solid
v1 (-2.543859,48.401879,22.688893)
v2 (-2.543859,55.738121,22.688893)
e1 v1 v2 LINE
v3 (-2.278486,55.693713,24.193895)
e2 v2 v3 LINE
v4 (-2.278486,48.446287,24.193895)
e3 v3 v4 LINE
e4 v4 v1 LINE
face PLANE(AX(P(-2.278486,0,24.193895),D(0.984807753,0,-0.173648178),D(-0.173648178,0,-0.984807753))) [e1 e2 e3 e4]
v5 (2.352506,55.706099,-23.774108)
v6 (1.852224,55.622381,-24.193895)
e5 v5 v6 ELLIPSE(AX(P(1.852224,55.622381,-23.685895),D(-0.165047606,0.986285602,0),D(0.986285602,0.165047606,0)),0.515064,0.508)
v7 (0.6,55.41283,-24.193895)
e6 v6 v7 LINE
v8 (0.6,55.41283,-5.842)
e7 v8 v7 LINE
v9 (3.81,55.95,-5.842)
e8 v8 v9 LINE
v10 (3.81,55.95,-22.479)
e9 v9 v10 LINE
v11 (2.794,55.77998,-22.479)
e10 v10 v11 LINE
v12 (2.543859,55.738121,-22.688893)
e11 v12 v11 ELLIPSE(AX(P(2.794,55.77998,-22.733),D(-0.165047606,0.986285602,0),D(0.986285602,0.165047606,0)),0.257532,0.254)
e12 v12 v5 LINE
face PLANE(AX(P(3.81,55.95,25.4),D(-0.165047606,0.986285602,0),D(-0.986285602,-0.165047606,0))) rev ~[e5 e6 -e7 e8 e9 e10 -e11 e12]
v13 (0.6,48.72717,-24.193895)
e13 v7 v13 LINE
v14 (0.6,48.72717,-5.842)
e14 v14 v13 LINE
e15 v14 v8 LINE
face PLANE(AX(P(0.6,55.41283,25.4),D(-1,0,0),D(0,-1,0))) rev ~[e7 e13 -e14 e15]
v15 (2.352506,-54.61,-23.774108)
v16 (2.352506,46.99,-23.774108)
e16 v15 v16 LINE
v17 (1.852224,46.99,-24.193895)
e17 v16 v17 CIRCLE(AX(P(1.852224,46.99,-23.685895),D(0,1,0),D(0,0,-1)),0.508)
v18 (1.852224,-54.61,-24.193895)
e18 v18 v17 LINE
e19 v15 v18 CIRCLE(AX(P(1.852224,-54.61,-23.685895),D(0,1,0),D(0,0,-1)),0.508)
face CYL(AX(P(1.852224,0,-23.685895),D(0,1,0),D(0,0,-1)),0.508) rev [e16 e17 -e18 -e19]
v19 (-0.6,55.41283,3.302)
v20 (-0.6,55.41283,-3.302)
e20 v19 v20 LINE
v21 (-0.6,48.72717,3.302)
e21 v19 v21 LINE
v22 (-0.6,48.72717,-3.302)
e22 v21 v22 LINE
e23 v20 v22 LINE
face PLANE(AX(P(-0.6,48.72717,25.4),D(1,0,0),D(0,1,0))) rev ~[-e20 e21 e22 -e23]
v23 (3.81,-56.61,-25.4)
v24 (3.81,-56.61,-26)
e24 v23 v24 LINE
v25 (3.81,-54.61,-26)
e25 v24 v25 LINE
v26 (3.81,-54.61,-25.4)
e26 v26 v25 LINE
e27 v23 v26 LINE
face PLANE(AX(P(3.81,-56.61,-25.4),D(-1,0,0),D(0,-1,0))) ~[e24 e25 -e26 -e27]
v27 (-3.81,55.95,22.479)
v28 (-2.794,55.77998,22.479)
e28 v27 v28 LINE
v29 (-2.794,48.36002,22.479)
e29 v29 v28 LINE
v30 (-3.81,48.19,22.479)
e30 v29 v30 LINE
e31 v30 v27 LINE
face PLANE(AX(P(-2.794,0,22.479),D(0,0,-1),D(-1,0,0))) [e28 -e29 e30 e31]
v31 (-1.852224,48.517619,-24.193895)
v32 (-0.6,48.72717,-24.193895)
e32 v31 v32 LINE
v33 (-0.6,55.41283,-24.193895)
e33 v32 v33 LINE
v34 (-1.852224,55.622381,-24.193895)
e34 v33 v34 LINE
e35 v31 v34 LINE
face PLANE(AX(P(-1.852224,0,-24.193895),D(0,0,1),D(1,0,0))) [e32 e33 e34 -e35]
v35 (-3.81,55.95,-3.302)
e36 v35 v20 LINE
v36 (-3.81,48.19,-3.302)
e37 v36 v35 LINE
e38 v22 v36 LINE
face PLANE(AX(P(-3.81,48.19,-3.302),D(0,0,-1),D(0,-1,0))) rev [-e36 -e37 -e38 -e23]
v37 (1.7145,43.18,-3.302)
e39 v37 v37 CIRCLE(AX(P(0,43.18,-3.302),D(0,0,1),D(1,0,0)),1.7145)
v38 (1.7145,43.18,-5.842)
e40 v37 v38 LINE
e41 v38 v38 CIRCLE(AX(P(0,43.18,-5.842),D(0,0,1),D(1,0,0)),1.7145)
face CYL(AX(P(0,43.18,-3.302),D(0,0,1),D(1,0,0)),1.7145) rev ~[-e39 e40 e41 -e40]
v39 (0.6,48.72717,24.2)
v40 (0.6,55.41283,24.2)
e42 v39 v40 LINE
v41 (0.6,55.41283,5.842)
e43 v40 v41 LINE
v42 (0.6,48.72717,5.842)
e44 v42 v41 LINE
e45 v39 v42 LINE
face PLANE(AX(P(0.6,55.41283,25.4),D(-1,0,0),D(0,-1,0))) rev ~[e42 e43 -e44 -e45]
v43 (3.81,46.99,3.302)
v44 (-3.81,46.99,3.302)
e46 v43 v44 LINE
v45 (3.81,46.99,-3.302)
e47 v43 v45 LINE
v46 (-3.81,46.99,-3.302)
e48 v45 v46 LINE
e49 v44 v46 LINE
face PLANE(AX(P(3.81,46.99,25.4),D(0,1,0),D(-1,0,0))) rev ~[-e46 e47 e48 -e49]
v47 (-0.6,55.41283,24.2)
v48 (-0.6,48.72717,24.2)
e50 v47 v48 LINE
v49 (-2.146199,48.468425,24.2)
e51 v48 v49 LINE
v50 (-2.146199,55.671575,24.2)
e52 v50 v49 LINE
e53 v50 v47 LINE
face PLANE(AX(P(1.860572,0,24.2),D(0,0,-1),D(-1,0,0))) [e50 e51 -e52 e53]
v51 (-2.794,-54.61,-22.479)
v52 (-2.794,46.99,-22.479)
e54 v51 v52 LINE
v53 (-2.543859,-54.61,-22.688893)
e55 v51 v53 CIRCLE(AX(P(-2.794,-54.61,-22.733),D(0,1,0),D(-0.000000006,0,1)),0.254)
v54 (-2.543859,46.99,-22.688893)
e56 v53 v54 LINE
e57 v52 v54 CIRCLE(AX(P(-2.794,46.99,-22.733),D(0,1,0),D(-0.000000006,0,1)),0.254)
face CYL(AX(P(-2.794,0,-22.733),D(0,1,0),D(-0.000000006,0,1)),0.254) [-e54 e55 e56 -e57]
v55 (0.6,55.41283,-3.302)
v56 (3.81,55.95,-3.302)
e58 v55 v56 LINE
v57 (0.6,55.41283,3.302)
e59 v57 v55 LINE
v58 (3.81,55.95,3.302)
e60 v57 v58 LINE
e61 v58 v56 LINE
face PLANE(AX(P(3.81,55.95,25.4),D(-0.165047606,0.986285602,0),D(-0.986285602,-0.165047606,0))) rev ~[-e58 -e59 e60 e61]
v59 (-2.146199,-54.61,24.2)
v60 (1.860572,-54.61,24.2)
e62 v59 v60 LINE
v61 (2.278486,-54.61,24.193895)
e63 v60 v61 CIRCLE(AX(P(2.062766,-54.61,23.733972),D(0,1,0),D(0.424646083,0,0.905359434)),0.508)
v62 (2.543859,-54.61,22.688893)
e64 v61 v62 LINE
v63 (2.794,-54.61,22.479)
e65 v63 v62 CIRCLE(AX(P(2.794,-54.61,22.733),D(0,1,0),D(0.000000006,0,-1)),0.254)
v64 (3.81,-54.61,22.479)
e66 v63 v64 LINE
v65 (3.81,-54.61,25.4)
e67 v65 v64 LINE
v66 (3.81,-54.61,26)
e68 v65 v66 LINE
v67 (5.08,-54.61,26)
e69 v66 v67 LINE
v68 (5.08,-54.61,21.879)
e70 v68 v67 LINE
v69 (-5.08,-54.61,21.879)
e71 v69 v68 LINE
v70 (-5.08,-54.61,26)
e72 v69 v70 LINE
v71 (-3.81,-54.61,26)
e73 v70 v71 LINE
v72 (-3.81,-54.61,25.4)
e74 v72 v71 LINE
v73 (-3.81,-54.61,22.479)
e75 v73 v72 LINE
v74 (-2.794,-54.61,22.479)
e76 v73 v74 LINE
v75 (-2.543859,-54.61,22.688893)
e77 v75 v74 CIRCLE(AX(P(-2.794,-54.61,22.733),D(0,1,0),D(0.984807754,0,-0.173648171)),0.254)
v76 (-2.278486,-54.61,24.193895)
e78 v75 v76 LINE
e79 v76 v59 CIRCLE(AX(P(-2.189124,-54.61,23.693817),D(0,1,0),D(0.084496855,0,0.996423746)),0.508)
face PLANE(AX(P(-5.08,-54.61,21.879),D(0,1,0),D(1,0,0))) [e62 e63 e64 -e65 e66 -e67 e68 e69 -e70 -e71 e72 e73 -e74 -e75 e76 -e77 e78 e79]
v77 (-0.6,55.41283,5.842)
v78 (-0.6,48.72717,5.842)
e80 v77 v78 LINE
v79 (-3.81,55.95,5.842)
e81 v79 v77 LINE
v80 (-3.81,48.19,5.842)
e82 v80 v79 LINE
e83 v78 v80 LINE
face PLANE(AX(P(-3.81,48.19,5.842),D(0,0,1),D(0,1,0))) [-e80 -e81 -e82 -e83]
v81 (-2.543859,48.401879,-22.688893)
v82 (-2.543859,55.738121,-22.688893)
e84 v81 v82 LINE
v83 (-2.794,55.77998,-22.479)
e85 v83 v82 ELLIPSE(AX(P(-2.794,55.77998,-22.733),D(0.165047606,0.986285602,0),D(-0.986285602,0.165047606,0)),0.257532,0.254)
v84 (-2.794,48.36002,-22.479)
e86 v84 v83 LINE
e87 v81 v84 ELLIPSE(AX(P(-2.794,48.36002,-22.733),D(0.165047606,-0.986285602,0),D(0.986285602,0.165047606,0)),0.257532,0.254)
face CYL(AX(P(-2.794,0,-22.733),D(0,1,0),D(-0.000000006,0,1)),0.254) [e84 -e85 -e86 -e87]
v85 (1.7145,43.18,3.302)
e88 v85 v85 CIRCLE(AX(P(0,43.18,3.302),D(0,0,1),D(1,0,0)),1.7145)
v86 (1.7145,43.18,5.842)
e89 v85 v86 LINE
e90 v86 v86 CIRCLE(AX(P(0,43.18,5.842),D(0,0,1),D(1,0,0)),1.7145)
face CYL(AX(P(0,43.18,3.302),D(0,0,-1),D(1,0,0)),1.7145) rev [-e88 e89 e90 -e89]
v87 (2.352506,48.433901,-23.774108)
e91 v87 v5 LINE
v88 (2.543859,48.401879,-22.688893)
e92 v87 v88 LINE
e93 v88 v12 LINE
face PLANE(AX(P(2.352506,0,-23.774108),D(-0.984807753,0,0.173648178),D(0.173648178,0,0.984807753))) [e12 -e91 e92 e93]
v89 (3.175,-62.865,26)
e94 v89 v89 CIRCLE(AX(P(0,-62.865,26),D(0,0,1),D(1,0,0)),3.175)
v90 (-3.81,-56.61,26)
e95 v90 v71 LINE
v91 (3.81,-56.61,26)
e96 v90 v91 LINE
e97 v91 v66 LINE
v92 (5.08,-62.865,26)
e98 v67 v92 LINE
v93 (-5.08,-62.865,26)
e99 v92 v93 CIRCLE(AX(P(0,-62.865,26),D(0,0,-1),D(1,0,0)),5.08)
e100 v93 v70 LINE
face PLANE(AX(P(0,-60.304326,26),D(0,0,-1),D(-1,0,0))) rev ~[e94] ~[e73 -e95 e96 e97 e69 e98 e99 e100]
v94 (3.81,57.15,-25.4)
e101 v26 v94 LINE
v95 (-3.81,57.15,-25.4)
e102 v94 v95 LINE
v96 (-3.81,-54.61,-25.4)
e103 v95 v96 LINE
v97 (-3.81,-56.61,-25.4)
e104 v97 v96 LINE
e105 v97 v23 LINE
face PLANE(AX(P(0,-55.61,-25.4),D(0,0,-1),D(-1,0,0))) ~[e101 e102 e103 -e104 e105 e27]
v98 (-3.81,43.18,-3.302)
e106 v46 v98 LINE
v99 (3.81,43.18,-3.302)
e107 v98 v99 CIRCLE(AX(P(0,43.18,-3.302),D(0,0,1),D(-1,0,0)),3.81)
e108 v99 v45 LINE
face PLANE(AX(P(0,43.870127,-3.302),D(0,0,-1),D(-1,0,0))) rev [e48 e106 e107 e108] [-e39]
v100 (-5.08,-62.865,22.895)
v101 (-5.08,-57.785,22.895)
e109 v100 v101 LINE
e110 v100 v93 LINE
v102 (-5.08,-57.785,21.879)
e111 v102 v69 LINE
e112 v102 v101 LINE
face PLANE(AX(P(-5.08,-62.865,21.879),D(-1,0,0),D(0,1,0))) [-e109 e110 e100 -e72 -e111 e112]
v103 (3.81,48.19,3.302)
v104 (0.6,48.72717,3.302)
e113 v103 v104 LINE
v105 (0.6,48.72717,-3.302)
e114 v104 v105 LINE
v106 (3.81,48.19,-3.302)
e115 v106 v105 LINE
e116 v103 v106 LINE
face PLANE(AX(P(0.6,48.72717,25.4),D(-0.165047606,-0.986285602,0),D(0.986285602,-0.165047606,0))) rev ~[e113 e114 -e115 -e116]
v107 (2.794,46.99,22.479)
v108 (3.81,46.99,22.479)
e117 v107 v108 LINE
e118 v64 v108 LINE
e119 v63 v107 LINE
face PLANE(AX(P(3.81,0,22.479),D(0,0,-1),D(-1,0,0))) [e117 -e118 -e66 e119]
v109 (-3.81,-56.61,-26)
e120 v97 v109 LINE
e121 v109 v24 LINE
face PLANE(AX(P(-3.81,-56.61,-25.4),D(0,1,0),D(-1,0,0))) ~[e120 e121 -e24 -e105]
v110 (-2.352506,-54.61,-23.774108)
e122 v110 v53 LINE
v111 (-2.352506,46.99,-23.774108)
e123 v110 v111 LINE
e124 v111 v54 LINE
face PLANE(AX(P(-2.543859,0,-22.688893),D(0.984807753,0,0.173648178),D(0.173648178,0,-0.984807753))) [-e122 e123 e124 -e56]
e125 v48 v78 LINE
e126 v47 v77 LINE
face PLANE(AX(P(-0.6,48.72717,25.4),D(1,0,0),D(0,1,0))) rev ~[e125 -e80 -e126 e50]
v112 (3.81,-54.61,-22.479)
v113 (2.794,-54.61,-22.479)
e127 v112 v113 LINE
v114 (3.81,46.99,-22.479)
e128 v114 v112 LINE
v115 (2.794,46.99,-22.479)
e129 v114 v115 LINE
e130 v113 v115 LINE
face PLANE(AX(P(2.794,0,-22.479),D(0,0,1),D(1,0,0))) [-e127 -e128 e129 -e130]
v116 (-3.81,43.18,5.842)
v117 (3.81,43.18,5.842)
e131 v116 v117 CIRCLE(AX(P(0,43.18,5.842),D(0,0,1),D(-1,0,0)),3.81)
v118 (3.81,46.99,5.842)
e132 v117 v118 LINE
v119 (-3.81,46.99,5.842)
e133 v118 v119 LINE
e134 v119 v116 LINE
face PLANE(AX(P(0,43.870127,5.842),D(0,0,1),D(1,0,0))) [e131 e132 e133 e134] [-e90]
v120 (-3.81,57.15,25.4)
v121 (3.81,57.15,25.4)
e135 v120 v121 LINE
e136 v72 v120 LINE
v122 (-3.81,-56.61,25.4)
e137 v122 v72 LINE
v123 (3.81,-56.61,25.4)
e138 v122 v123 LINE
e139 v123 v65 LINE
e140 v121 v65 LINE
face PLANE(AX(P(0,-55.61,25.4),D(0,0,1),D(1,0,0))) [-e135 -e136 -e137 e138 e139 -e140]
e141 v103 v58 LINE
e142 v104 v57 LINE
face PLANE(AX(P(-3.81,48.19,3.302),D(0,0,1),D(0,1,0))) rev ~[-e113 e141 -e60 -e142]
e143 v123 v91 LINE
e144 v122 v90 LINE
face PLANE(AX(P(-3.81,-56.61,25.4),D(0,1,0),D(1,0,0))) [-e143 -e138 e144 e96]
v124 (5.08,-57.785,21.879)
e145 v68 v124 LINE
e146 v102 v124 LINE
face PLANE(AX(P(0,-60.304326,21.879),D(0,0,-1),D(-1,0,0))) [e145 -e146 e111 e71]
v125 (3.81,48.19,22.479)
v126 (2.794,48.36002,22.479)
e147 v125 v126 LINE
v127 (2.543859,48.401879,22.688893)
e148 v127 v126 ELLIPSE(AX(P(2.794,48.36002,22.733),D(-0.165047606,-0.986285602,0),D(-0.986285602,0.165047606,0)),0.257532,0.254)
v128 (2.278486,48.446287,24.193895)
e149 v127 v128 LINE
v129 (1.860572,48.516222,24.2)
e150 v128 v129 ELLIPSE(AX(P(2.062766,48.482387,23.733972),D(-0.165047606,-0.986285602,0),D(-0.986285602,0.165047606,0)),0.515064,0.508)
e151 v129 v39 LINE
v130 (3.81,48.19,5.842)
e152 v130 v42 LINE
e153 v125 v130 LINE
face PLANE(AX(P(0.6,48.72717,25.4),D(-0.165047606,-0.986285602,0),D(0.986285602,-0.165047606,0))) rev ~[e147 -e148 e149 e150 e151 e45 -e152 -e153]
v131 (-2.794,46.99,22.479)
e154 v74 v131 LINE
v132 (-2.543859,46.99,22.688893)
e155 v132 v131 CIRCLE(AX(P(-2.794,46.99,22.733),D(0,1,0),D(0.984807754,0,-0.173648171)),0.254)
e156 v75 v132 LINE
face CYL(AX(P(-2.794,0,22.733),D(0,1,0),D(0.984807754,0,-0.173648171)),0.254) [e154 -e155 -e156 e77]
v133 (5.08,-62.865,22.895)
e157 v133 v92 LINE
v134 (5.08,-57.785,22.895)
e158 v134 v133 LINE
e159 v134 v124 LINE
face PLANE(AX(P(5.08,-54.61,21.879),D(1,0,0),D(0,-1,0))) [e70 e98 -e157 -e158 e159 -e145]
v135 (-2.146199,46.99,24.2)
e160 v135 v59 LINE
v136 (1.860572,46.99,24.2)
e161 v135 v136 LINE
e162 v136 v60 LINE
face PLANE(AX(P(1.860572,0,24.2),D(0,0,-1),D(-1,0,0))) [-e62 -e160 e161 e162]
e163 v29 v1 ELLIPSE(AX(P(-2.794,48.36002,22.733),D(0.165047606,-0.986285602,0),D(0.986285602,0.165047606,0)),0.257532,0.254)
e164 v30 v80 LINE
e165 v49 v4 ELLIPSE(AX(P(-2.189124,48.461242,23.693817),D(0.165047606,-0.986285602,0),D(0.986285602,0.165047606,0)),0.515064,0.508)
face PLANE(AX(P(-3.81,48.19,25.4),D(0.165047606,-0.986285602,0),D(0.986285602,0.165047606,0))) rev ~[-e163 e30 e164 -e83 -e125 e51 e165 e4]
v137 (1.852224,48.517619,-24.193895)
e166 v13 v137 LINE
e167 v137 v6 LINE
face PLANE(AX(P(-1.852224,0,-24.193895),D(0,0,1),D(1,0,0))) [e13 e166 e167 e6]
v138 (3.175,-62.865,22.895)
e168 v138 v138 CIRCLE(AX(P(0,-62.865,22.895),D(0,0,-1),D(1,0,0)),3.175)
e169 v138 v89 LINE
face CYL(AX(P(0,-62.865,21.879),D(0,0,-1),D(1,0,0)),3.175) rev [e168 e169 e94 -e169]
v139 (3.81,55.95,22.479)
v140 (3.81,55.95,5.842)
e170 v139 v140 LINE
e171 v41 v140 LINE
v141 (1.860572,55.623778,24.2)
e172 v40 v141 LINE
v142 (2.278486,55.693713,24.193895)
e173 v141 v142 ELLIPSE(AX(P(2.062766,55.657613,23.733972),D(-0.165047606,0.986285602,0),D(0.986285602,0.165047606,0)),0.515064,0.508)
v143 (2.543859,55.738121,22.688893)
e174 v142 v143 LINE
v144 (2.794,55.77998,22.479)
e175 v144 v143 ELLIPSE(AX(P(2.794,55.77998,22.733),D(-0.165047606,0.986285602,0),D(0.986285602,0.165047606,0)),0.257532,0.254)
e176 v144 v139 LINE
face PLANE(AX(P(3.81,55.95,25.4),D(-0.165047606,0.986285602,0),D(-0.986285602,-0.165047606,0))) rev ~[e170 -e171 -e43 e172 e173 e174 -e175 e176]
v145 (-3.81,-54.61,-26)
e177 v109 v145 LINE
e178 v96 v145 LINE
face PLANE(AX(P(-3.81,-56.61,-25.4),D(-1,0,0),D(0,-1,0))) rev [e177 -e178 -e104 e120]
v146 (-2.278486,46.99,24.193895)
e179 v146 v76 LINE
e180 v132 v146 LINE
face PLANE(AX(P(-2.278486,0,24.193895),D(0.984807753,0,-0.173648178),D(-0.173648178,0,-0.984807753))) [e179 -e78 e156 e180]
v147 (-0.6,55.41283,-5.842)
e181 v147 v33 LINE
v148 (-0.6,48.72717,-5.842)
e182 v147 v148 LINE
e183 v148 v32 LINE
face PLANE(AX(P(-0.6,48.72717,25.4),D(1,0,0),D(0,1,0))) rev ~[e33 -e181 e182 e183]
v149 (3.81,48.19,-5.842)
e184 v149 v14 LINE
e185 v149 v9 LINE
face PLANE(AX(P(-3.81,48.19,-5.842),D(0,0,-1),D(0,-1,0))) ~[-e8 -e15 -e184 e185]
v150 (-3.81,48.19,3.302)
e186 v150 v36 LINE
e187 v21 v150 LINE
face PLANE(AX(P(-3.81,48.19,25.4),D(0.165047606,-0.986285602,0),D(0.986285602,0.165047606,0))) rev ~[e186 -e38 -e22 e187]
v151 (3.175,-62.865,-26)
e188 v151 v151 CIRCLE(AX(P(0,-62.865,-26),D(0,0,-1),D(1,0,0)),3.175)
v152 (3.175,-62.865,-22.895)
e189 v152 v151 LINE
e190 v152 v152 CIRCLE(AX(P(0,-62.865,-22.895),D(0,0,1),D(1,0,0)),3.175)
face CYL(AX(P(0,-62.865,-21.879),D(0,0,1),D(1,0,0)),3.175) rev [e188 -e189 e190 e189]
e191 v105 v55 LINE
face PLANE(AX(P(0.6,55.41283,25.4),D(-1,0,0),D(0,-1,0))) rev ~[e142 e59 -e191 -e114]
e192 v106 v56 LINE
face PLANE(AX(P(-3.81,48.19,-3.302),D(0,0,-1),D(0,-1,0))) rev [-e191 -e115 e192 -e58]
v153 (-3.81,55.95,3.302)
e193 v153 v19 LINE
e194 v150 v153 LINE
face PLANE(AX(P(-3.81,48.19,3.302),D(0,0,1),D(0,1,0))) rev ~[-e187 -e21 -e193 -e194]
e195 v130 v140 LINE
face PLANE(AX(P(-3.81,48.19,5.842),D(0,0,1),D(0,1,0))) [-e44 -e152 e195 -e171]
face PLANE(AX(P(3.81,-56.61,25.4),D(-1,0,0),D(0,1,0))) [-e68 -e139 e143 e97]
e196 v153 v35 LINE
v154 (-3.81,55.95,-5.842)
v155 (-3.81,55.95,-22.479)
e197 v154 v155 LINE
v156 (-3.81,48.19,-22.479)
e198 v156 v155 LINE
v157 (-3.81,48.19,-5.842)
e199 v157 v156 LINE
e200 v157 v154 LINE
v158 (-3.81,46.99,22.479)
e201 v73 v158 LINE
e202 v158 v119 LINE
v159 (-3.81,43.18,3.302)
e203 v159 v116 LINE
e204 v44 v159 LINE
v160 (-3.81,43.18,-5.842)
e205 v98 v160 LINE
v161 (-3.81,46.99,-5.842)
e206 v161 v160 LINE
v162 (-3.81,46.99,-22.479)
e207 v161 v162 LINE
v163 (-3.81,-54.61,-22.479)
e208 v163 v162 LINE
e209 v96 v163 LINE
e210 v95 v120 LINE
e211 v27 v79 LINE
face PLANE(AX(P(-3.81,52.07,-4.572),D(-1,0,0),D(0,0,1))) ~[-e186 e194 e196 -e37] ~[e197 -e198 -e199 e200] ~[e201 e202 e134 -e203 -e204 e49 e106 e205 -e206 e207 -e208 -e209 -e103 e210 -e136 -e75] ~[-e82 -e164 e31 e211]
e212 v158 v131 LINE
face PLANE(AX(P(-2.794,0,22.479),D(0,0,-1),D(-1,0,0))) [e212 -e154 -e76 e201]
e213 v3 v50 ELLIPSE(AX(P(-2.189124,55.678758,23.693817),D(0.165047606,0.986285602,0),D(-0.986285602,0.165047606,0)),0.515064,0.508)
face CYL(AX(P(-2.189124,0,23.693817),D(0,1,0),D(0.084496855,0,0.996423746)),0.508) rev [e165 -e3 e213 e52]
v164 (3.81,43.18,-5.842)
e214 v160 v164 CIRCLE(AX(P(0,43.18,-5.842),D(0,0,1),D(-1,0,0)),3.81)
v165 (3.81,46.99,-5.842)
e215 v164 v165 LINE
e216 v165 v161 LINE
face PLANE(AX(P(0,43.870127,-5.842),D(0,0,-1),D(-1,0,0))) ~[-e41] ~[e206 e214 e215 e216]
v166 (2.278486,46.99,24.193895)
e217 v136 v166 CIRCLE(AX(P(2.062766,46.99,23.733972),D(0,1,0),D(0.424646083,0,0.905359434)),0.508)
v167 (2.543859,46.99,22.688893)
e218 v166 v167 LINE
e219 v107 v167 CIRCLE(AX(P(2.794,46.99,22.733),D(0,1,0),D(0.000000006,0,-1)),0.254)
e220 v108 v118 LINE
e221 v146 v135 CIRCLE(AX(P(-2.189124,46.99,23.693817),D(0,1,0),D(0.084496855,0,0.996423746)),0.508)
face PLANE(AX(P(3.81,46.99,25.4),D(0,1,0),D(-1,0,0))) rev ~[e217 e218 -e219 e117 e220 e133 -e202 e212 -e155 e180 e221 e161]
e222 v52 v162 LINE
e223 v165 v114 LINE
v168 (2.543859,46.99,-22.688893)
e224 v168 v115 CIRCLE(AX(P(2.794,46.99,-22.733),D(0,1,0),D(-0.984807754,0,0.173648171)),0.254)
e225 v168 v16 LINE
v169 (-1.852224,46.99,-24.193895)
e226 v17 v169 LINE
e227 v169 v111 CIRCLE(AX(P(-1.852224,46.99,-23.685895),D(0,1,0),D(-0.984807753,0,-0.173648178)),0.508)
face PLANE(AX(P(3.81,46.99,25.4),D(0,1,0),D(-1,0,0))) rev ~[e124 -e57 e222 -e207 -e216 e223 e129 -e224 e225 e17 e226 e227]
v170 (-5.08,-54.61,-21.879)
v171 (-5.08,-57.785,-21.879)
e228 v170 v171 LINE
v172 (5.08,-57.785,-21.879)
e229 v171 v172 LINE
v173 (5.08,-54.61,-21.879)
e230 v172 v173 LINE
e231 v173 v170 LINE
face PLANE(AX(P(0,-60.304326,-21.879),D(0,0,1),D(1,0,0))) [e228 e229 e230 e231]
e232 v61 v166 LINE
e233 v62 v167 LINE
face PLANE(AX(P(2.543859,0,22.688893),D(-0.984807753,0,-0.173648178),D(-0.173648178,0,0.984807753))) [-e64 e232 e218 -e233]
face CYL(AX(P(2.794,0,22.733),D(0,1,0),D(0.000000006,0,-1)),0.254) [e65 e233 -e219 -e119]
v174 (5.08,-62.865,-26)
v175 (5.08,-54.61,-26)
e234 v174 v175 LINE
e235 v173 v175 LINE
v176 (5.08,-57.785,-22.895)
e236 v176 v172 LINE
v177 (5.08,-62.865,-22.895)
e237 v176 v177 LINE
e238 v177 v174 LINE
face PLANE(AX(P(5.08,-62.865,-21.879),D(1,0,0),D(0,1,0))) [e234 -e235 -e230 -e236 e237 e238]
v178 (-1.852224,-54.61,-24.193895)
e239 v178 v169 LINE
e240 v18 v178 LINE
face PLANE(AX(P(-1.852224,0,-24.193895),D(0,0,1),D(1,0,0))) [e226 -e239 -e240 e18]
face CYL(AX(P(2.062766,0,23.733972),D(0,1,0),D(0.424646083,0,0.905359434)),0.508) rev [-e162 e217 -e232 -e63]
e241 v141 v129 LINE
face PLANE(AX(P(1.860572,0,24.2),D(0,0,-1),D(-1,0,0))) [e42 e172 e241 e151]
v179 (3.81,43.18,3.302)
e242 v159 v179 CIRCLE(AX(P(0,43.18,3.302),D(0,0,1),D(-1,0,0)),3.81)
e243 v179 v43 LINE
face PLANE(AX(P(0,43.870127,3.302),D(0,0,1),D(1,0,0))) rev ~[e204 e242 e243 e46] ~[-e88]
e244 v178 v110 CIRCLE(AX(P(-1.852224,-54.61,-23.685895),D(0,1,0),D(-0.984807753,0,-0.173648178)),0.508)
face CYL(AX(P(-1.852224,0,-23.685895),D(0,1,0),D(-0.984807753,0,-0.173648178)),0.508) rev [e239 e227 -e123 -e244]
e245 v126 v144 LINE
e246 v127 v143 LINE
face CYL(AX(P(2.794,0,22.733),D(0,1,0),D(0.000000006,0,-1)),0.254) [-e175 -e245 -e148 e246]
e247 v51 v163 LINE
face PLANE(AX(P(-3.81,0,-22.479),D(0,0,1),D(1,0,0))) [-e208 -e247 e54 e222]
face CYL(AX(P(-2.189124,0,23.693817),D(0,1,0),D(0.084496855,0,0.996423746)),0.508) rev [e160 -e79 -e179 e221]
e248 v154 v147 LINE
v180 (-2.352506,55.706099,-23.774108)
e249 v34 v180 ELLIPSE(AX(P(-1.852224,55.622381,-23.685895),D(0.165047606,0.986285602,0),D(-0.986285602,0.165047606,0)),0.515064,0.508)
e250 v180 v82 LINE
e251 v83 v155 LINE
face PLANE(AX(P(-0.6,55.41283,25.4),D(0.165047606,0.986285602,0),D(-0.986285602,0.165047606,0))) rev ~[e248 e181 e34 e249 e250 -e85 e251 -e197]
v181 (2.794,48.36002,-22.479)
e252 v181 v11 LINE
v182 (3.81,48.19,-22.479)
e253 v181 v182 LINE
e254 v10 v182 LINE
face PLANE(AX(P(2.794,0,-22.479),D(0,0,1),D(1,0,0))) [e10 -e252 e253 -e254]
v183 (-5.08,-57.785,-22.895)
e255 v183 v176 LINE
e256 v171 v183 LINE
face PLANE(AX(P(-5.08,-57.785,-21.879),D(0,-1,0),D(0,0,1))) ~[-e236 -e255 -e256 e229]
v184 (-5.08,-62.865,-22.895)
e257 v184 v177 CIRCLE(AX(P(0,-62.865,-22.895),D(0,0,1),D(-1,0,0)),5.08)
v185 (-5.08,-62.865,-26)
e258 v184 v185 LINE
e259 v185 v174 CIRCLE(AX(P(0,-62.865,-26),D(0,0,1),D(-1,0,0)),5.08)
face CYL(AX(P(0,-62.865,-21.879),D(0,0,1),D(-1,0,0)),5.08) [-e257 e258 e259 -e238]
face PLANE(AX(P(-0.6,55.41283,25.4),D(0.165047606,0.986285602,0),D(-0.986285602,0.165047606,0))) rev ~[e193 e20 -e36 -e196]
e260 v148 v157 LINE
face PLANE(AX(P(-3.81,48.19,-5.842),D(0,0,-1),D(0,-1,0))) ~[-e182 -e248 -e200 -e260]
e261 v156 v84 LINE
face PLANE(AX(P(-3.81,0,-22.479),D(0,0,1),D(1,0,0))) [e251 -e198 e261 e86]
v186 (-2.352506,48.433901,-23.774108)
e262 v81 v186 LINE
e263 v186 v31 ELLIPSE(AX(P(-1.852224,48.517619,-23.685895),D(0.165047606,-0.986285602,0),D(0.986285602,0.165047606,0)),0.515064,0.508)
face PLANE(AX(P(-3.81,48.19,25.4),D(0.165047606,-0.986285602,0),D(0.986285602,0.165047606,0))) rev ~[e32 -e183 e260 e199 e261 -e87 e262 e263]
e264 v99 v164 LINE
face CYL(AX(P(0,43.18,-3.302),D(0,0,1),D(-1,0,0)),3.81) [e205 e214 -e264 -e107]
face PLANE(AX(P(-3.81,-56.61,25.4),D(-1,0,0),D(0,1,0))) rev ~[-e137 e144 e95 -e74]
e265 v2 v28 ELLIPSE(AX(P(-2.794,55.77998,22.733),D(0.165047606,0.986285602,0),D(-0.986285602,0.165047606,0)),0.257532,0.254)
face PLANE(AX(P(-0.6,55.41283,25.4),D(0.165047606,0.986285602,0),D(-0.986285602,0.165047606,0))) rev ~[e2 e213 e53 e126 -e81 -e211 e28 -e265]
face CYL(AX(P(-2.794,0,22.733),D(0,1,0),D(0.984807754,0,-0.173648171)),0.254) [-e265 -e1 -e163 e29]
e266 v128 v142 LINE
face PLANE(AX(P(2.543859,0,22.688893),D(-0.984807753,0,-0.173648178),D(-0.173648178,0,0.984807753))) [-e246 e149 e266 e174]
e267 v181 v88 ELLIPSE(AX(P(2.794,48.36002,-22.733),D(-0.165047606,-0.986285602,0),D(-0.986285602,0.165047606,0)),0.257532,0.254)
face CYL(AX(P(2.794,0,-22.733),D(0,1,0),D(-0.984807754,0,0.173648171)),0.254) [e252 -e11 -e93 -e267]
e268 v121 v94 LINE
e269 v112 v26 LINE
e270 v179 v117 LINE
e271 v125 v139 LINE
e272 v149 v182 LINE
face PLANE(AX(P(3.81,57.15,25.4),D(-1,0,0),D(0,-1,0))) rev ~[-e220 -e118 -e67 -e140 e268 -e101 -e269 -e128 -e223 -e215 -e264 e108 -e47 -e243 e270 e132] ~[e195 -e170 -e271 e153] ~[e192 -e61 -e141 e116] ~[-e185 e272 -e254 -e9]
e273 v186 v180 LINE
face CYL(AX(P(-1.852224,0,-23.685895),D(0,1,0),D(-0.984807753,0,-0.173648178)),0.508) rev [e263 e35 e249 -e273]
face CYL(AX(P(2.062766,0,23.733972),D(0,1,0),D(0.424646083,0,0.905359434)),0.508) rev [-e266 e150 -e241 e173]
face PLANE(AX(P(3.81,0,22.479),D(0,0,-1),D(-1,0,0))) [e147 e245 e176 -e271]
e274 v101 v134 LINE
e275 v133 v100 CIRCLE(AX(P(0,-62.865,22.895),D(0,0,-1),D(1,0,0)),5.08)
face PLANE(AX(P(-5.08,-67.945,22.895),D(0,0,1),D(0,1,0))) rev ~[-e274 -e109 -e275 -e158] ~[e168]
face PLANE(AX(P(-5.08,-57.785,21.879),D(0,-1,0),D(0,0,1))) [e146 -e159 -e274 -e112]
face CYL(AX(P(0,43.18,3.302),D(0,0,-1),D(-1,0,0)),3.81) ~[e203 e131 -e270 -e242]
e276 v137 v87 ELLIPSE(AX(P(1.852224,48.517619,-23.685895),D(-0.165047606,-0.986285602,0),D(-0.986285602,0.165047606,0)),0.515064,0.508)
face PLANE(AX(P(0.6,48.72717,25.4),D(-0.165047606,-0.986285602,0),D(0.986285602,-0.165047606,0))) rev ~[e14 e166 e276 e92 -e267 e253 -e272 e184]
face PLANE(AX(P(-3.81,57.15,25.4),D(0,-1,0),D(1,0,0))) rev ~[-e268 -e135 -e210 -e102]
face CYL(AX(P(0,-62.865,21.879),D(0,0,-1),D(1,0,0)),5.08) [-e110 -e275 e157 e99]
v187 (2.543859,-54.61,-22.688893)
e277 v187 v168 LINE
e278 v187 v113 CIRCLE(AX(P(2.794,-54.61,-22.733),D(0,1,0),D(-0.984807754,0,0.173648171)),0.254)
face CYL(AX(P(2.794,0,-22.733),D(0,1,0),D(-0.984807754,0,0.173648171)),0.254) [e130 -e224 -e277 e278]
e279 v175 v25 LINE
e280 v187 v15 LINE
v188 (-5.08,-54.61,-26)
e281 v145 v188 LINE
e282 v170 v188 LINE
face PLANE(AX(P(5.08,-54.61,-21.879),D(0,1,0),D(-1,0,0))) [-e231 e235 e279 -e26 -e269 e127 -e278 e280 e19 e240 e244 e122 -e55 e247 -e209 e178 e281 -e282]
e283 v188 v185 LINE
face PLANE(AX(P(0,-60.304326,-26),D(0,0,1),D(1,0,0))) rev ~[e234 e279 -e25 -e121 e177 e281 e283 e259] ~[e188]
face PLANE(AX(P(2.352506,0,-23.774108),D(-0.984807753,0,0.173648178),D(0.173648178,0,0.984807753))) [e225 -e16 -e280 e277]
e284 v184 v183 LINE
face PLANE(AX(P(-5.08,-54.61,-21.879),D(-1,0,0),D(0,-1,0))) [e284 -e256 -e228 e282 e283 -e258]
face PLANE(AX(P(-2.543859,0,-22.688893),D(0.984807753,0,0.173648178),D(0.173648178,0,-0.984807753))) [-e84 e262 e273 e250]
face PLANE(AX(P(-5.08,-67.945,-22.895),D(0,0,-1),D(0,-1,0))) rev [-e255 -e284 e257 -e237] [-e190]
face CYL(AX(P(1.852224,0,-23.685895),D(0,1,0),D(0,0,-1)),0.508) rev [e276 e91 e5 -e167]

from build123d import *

# Parameters (mm, degrees)
BOSS_EXTRUDE1_DEPTH      = 57.15
BOSS_EXTRUDE1_2_DEPTH    = 57.15
BOSS_EXTRUDE2_DEPTH      = 50.8
BOSS_EXTRUDE3_DEPTH      = 0.6
BOSS_EXTRUDE3_DEPTH_BACK = 3.521
SKETCH3_R                = 3.175
SKETCH4_W                = 1.016
SKETCH4_H                = 10.16
CUT_EXTRUDE1_DEPTH       = 74.455759645
SKETCH5_W                = 7.62
SKETCH5_H                = 2
CUT_EXTRUDE2_DEPTH       = 85.988054602
BOSS_EXTRUDE6_DEPTH      = 0.6
BOSS_EXTRUDE6_DEPTH_BACK = 3.521
SKETCH6_R                = 3.175
BOSS_EXTRUDE7_START      = 3.302
SKETCH7_R                = 1.7145
BOSS_EXTRUDE7_DEPTH      = 2.54
SKETCH8_W                = 2.54
SKETCH8_H                = 7.76
BOSS_EXTRUDE8_DEPTH      = 7.62


with BuildPart() as part:
    # Sketch1 → Boss-Extrude1 (new, symmetric)
    with BuildSketch(Plane(origin=(0, 0, 0), x_dir=(1, 0, 0), z_dir=(0, 1, 0))):
        with BuildLine():
            Line((-3.81, 25.4), (-3.81, 22.479))
            Line((-3.81, 22.479), (-2.794, 22.479))
            ThreePointArc((-2.794, 22.479), (-2.630731947, 22.538424711), (-2.543858831, 22.688893363))
            Line((-2.543858831, 22.688893363), (-2.352506152, 23.774108332))
            ThreePointArc((-2.352506152, 23.774108332), (-2.178759919, 24.075045635), (-1.852223813, 24.193895058))
            Line((-1.852223813, 24.193895058), (1.852223813, 24.193895058))
            ThreePointArc((1.852223813, 24.193895058), (2.178759919, 24.075045635), (2.352506152, 23.774108332))
            Line((2.352506152, 23.774108332), (2.543858831, 22.688893363))
            ThreePointArc((2.543858831, 22.688893363), (2.630731947, 22.538424711), (2.794, 22.479))
            Line((2.794, 22.479), (3.81, 22.479))
            Line((3.81, 22.479), (3.81, 25.4))
            Line((3.81, 25.4), (-3.81, 25.4))
        make_face()
    extrude(amount=BOSS_EXTRUDE1_DEPTH, both=True)



with BuildPart() as body_2:
    # Sketch1 → Boss-Extrude1 2 (new, symmetric)
    with BuildSketch(Plane(origin=(0, 0, 0), x_dir=(1, 0, 0), z_dir=(0, 1, 0))):
        with BuildLine():
            Line((-2.278486426, -24.193895058), (-2.543858831, -22.688893363))
            ThreePointArc((-2.543858831, -22.688893363), (-2.630731947, -22.538424711), (-2.794, -22.479))
            Line((-2.794, -22.479), (-3.81, -22.479))
            Line((-3.81, -22.479), (-3.81, -25.4))
            Line((-3.81, -25.4), (3.81, -25.4))
            Line((3.81, -25.4), (3.81, -22.479))
            Line((3.81, -22.479), (2.794, -22.479))
            ThreePointArc((2.794, -22.479), (2.630731947, -22.538424711), (2.543858831, -22.688893363))
            Line((2.543858831, -22.688893363), (2.278486426, -24.193895058))
            ThreePointArc((2.278486426, -24.193895058), (2.070186355, -24.241918271), (1.860572408, -24.2))
            Line((1.860572408, -24.2), (-2.146199428, -24.2))
            ThreePointArc((-2.146199428, -24.2), (-2.212542712, -24.201276643), (-2.278486426, -24.193895058))
        make_face()
    extrude(amount=BOSS_EXTRUDE1_2_DEPTH, both=True)


with BuildPart() as part_1:
    add(part.part)

    add(body_2.part)  # Boss-Extrude2 merges body 2
    # Sketch2 → Boss-Extrude2 (add)
    with BuildSketch(Plane.XY.offset(25.4)):
        Polygon((-3.81, 57.15), (3.81, 57.15), (3.81, 55.95), (0.6, 55.412830225), (0.6, 48.727169775), (3.81, 48.19), (3.81, 46.99), (-3.81, 46.99), (-3.81, 48.19), (-0.6, 48.727169775), (-0.6, 55.412830225), (-3.81, 55.95), align=None)
    extrude(amount=-BOSS_EXTRUDE2_DEPTH)

    # Sketch3 → Boss-Extrude3 (add, two sides: drawn at the far end of the back side and taken through both)
    with BuildSketch(Plane.XY.offset(25.4).offset(-BOSS_EXTRUDE3_DEPTH_BACK)):
        with BuildLine():
            Line((-5.08, -54.61), (5.08, -54.61))
            Line((5.08, -54.61), (5.08, -62.865))
            ThreePointArc((5.08, -62.865), (0, -67.945), (-5.08, -62.865))
            Line((-5.08, -62.865), (-5.08, -54.61))
        make_face()
        with Locations((0, -62.865)):
            Circle(SKETCH3_R, mode=Mode.SUBTRACT)
    extrude(amount=BOSS_EXTRUDE3_DEPTH + BOSS_EXTRUDE3_DEPTH_BACK)

    # Sketch4 → Cut-Extrude1 (cut, through all)
    with BuildSketch(Plane.ZY.offset(5.08)):
        with Locations((22.387, -62.865)):
            Rectangle(SKETCH4_W, SKETCH4_H)
    cut_extrude1 = extrude(amount=-CUT_EXTRUDE1_DEPTH, mode=Mode.SUBTRACT)

    # Sketch5 → Cut-Extrude2 (cut, through all)
    with BuildSketch(Plane.XY.offset(25.4)):
        with Locations((0, -55.61)):
            Rectangle(SKETCH5_W, SKETCH5_H)
    cut_extrude2 = extrude(amount=CUT_EXTRUDE2_DEPTH, mode=Mode.SUBTRACT)

    # Sketch6 → Boss-Extrude6 (add, two sides: drawn at the far end of the back side and taken through both)
    with BuildSketch(Plane(origin=(0, 0, -25.4), x_dir=(-1, 0, 0), z_dir=(0, 0, -1)).offset(-BOSS_EXTRUDE6_DEPTH_BACK)):
        with BuildLine():
            Line((-5.08, -54.61), (5.08, -54.61))
            Line((5.08, -54.61), (5.08, -62.865))
            ThreePointArc((5.08, -62.865), (0, -67.945), (-5.08, -62.865))
            Line((-5.08, -62.865), (-5.08, -54.61))
        make_face()
        with Locations(Location((0, -62.865, 0), (0, 0, 180))):
            Circle(SKETCH6_R, mode=Mode.SUBTRACT)
    extrude(amount=BOSS_EXTRUDE6_DEPTH + BOSS_EXTRUDE6_DEPTH_BACK)

    # Mirror5: Cut-Extrude1 across plane
    add(cut_extrude1.mirror(Plane.XY), mode=Mode.SUBTRACT)

    # Mirror6: Cut-Extrude2 across plane
    add(cut_extrude2.mirror(Plane.XY), mode=Mode.SUBTRACT)

    # Sketch7 → Boss-Extrude7 (add)
    with BuildSketch(Plane.XY.offset(BOSS_EXTRUDE7_START)):
        with BuildLine():
            Line((3.81, 43.18), (3.81, 46.99))
            Line((3.81, 46.99), (-3.81, 46.99))
            Line((-3.81, 46.99), (-3.81, 43.18))
            ThreePointArc((-3.81, 43.18), (0, 39.37), (3.81, 43.18))
        make_face()
        with Locations((0, 43.18)):
            Circle(SKETCH7_R, mode=Mode.SUBTRACT)
    boss_extrude7 = extrude(amount=BOSS_EXTRUDE7_DEPTH)

    # Mirror7: Boss-Extrude7 across plane
    add(boss_extrude7.mirror(Plane.XY))

    # Sketch8 → Boss-Extrude8 (add)
    with BuildSketch(Plane.ZY.offset(3.81)):
        with Locations((4.572, 52.07)):
            Rectangle(SKETCH8_W, SKETCH8_H)
    boss_extrude8 = extrude(amount=-BOSS_EXTRUDE8_DEPTH)

    # Mirror8: Boss-Extrude8 across plane
    add(boss_extrude8.mirror(Plane.XY))


solid = part_1.part
